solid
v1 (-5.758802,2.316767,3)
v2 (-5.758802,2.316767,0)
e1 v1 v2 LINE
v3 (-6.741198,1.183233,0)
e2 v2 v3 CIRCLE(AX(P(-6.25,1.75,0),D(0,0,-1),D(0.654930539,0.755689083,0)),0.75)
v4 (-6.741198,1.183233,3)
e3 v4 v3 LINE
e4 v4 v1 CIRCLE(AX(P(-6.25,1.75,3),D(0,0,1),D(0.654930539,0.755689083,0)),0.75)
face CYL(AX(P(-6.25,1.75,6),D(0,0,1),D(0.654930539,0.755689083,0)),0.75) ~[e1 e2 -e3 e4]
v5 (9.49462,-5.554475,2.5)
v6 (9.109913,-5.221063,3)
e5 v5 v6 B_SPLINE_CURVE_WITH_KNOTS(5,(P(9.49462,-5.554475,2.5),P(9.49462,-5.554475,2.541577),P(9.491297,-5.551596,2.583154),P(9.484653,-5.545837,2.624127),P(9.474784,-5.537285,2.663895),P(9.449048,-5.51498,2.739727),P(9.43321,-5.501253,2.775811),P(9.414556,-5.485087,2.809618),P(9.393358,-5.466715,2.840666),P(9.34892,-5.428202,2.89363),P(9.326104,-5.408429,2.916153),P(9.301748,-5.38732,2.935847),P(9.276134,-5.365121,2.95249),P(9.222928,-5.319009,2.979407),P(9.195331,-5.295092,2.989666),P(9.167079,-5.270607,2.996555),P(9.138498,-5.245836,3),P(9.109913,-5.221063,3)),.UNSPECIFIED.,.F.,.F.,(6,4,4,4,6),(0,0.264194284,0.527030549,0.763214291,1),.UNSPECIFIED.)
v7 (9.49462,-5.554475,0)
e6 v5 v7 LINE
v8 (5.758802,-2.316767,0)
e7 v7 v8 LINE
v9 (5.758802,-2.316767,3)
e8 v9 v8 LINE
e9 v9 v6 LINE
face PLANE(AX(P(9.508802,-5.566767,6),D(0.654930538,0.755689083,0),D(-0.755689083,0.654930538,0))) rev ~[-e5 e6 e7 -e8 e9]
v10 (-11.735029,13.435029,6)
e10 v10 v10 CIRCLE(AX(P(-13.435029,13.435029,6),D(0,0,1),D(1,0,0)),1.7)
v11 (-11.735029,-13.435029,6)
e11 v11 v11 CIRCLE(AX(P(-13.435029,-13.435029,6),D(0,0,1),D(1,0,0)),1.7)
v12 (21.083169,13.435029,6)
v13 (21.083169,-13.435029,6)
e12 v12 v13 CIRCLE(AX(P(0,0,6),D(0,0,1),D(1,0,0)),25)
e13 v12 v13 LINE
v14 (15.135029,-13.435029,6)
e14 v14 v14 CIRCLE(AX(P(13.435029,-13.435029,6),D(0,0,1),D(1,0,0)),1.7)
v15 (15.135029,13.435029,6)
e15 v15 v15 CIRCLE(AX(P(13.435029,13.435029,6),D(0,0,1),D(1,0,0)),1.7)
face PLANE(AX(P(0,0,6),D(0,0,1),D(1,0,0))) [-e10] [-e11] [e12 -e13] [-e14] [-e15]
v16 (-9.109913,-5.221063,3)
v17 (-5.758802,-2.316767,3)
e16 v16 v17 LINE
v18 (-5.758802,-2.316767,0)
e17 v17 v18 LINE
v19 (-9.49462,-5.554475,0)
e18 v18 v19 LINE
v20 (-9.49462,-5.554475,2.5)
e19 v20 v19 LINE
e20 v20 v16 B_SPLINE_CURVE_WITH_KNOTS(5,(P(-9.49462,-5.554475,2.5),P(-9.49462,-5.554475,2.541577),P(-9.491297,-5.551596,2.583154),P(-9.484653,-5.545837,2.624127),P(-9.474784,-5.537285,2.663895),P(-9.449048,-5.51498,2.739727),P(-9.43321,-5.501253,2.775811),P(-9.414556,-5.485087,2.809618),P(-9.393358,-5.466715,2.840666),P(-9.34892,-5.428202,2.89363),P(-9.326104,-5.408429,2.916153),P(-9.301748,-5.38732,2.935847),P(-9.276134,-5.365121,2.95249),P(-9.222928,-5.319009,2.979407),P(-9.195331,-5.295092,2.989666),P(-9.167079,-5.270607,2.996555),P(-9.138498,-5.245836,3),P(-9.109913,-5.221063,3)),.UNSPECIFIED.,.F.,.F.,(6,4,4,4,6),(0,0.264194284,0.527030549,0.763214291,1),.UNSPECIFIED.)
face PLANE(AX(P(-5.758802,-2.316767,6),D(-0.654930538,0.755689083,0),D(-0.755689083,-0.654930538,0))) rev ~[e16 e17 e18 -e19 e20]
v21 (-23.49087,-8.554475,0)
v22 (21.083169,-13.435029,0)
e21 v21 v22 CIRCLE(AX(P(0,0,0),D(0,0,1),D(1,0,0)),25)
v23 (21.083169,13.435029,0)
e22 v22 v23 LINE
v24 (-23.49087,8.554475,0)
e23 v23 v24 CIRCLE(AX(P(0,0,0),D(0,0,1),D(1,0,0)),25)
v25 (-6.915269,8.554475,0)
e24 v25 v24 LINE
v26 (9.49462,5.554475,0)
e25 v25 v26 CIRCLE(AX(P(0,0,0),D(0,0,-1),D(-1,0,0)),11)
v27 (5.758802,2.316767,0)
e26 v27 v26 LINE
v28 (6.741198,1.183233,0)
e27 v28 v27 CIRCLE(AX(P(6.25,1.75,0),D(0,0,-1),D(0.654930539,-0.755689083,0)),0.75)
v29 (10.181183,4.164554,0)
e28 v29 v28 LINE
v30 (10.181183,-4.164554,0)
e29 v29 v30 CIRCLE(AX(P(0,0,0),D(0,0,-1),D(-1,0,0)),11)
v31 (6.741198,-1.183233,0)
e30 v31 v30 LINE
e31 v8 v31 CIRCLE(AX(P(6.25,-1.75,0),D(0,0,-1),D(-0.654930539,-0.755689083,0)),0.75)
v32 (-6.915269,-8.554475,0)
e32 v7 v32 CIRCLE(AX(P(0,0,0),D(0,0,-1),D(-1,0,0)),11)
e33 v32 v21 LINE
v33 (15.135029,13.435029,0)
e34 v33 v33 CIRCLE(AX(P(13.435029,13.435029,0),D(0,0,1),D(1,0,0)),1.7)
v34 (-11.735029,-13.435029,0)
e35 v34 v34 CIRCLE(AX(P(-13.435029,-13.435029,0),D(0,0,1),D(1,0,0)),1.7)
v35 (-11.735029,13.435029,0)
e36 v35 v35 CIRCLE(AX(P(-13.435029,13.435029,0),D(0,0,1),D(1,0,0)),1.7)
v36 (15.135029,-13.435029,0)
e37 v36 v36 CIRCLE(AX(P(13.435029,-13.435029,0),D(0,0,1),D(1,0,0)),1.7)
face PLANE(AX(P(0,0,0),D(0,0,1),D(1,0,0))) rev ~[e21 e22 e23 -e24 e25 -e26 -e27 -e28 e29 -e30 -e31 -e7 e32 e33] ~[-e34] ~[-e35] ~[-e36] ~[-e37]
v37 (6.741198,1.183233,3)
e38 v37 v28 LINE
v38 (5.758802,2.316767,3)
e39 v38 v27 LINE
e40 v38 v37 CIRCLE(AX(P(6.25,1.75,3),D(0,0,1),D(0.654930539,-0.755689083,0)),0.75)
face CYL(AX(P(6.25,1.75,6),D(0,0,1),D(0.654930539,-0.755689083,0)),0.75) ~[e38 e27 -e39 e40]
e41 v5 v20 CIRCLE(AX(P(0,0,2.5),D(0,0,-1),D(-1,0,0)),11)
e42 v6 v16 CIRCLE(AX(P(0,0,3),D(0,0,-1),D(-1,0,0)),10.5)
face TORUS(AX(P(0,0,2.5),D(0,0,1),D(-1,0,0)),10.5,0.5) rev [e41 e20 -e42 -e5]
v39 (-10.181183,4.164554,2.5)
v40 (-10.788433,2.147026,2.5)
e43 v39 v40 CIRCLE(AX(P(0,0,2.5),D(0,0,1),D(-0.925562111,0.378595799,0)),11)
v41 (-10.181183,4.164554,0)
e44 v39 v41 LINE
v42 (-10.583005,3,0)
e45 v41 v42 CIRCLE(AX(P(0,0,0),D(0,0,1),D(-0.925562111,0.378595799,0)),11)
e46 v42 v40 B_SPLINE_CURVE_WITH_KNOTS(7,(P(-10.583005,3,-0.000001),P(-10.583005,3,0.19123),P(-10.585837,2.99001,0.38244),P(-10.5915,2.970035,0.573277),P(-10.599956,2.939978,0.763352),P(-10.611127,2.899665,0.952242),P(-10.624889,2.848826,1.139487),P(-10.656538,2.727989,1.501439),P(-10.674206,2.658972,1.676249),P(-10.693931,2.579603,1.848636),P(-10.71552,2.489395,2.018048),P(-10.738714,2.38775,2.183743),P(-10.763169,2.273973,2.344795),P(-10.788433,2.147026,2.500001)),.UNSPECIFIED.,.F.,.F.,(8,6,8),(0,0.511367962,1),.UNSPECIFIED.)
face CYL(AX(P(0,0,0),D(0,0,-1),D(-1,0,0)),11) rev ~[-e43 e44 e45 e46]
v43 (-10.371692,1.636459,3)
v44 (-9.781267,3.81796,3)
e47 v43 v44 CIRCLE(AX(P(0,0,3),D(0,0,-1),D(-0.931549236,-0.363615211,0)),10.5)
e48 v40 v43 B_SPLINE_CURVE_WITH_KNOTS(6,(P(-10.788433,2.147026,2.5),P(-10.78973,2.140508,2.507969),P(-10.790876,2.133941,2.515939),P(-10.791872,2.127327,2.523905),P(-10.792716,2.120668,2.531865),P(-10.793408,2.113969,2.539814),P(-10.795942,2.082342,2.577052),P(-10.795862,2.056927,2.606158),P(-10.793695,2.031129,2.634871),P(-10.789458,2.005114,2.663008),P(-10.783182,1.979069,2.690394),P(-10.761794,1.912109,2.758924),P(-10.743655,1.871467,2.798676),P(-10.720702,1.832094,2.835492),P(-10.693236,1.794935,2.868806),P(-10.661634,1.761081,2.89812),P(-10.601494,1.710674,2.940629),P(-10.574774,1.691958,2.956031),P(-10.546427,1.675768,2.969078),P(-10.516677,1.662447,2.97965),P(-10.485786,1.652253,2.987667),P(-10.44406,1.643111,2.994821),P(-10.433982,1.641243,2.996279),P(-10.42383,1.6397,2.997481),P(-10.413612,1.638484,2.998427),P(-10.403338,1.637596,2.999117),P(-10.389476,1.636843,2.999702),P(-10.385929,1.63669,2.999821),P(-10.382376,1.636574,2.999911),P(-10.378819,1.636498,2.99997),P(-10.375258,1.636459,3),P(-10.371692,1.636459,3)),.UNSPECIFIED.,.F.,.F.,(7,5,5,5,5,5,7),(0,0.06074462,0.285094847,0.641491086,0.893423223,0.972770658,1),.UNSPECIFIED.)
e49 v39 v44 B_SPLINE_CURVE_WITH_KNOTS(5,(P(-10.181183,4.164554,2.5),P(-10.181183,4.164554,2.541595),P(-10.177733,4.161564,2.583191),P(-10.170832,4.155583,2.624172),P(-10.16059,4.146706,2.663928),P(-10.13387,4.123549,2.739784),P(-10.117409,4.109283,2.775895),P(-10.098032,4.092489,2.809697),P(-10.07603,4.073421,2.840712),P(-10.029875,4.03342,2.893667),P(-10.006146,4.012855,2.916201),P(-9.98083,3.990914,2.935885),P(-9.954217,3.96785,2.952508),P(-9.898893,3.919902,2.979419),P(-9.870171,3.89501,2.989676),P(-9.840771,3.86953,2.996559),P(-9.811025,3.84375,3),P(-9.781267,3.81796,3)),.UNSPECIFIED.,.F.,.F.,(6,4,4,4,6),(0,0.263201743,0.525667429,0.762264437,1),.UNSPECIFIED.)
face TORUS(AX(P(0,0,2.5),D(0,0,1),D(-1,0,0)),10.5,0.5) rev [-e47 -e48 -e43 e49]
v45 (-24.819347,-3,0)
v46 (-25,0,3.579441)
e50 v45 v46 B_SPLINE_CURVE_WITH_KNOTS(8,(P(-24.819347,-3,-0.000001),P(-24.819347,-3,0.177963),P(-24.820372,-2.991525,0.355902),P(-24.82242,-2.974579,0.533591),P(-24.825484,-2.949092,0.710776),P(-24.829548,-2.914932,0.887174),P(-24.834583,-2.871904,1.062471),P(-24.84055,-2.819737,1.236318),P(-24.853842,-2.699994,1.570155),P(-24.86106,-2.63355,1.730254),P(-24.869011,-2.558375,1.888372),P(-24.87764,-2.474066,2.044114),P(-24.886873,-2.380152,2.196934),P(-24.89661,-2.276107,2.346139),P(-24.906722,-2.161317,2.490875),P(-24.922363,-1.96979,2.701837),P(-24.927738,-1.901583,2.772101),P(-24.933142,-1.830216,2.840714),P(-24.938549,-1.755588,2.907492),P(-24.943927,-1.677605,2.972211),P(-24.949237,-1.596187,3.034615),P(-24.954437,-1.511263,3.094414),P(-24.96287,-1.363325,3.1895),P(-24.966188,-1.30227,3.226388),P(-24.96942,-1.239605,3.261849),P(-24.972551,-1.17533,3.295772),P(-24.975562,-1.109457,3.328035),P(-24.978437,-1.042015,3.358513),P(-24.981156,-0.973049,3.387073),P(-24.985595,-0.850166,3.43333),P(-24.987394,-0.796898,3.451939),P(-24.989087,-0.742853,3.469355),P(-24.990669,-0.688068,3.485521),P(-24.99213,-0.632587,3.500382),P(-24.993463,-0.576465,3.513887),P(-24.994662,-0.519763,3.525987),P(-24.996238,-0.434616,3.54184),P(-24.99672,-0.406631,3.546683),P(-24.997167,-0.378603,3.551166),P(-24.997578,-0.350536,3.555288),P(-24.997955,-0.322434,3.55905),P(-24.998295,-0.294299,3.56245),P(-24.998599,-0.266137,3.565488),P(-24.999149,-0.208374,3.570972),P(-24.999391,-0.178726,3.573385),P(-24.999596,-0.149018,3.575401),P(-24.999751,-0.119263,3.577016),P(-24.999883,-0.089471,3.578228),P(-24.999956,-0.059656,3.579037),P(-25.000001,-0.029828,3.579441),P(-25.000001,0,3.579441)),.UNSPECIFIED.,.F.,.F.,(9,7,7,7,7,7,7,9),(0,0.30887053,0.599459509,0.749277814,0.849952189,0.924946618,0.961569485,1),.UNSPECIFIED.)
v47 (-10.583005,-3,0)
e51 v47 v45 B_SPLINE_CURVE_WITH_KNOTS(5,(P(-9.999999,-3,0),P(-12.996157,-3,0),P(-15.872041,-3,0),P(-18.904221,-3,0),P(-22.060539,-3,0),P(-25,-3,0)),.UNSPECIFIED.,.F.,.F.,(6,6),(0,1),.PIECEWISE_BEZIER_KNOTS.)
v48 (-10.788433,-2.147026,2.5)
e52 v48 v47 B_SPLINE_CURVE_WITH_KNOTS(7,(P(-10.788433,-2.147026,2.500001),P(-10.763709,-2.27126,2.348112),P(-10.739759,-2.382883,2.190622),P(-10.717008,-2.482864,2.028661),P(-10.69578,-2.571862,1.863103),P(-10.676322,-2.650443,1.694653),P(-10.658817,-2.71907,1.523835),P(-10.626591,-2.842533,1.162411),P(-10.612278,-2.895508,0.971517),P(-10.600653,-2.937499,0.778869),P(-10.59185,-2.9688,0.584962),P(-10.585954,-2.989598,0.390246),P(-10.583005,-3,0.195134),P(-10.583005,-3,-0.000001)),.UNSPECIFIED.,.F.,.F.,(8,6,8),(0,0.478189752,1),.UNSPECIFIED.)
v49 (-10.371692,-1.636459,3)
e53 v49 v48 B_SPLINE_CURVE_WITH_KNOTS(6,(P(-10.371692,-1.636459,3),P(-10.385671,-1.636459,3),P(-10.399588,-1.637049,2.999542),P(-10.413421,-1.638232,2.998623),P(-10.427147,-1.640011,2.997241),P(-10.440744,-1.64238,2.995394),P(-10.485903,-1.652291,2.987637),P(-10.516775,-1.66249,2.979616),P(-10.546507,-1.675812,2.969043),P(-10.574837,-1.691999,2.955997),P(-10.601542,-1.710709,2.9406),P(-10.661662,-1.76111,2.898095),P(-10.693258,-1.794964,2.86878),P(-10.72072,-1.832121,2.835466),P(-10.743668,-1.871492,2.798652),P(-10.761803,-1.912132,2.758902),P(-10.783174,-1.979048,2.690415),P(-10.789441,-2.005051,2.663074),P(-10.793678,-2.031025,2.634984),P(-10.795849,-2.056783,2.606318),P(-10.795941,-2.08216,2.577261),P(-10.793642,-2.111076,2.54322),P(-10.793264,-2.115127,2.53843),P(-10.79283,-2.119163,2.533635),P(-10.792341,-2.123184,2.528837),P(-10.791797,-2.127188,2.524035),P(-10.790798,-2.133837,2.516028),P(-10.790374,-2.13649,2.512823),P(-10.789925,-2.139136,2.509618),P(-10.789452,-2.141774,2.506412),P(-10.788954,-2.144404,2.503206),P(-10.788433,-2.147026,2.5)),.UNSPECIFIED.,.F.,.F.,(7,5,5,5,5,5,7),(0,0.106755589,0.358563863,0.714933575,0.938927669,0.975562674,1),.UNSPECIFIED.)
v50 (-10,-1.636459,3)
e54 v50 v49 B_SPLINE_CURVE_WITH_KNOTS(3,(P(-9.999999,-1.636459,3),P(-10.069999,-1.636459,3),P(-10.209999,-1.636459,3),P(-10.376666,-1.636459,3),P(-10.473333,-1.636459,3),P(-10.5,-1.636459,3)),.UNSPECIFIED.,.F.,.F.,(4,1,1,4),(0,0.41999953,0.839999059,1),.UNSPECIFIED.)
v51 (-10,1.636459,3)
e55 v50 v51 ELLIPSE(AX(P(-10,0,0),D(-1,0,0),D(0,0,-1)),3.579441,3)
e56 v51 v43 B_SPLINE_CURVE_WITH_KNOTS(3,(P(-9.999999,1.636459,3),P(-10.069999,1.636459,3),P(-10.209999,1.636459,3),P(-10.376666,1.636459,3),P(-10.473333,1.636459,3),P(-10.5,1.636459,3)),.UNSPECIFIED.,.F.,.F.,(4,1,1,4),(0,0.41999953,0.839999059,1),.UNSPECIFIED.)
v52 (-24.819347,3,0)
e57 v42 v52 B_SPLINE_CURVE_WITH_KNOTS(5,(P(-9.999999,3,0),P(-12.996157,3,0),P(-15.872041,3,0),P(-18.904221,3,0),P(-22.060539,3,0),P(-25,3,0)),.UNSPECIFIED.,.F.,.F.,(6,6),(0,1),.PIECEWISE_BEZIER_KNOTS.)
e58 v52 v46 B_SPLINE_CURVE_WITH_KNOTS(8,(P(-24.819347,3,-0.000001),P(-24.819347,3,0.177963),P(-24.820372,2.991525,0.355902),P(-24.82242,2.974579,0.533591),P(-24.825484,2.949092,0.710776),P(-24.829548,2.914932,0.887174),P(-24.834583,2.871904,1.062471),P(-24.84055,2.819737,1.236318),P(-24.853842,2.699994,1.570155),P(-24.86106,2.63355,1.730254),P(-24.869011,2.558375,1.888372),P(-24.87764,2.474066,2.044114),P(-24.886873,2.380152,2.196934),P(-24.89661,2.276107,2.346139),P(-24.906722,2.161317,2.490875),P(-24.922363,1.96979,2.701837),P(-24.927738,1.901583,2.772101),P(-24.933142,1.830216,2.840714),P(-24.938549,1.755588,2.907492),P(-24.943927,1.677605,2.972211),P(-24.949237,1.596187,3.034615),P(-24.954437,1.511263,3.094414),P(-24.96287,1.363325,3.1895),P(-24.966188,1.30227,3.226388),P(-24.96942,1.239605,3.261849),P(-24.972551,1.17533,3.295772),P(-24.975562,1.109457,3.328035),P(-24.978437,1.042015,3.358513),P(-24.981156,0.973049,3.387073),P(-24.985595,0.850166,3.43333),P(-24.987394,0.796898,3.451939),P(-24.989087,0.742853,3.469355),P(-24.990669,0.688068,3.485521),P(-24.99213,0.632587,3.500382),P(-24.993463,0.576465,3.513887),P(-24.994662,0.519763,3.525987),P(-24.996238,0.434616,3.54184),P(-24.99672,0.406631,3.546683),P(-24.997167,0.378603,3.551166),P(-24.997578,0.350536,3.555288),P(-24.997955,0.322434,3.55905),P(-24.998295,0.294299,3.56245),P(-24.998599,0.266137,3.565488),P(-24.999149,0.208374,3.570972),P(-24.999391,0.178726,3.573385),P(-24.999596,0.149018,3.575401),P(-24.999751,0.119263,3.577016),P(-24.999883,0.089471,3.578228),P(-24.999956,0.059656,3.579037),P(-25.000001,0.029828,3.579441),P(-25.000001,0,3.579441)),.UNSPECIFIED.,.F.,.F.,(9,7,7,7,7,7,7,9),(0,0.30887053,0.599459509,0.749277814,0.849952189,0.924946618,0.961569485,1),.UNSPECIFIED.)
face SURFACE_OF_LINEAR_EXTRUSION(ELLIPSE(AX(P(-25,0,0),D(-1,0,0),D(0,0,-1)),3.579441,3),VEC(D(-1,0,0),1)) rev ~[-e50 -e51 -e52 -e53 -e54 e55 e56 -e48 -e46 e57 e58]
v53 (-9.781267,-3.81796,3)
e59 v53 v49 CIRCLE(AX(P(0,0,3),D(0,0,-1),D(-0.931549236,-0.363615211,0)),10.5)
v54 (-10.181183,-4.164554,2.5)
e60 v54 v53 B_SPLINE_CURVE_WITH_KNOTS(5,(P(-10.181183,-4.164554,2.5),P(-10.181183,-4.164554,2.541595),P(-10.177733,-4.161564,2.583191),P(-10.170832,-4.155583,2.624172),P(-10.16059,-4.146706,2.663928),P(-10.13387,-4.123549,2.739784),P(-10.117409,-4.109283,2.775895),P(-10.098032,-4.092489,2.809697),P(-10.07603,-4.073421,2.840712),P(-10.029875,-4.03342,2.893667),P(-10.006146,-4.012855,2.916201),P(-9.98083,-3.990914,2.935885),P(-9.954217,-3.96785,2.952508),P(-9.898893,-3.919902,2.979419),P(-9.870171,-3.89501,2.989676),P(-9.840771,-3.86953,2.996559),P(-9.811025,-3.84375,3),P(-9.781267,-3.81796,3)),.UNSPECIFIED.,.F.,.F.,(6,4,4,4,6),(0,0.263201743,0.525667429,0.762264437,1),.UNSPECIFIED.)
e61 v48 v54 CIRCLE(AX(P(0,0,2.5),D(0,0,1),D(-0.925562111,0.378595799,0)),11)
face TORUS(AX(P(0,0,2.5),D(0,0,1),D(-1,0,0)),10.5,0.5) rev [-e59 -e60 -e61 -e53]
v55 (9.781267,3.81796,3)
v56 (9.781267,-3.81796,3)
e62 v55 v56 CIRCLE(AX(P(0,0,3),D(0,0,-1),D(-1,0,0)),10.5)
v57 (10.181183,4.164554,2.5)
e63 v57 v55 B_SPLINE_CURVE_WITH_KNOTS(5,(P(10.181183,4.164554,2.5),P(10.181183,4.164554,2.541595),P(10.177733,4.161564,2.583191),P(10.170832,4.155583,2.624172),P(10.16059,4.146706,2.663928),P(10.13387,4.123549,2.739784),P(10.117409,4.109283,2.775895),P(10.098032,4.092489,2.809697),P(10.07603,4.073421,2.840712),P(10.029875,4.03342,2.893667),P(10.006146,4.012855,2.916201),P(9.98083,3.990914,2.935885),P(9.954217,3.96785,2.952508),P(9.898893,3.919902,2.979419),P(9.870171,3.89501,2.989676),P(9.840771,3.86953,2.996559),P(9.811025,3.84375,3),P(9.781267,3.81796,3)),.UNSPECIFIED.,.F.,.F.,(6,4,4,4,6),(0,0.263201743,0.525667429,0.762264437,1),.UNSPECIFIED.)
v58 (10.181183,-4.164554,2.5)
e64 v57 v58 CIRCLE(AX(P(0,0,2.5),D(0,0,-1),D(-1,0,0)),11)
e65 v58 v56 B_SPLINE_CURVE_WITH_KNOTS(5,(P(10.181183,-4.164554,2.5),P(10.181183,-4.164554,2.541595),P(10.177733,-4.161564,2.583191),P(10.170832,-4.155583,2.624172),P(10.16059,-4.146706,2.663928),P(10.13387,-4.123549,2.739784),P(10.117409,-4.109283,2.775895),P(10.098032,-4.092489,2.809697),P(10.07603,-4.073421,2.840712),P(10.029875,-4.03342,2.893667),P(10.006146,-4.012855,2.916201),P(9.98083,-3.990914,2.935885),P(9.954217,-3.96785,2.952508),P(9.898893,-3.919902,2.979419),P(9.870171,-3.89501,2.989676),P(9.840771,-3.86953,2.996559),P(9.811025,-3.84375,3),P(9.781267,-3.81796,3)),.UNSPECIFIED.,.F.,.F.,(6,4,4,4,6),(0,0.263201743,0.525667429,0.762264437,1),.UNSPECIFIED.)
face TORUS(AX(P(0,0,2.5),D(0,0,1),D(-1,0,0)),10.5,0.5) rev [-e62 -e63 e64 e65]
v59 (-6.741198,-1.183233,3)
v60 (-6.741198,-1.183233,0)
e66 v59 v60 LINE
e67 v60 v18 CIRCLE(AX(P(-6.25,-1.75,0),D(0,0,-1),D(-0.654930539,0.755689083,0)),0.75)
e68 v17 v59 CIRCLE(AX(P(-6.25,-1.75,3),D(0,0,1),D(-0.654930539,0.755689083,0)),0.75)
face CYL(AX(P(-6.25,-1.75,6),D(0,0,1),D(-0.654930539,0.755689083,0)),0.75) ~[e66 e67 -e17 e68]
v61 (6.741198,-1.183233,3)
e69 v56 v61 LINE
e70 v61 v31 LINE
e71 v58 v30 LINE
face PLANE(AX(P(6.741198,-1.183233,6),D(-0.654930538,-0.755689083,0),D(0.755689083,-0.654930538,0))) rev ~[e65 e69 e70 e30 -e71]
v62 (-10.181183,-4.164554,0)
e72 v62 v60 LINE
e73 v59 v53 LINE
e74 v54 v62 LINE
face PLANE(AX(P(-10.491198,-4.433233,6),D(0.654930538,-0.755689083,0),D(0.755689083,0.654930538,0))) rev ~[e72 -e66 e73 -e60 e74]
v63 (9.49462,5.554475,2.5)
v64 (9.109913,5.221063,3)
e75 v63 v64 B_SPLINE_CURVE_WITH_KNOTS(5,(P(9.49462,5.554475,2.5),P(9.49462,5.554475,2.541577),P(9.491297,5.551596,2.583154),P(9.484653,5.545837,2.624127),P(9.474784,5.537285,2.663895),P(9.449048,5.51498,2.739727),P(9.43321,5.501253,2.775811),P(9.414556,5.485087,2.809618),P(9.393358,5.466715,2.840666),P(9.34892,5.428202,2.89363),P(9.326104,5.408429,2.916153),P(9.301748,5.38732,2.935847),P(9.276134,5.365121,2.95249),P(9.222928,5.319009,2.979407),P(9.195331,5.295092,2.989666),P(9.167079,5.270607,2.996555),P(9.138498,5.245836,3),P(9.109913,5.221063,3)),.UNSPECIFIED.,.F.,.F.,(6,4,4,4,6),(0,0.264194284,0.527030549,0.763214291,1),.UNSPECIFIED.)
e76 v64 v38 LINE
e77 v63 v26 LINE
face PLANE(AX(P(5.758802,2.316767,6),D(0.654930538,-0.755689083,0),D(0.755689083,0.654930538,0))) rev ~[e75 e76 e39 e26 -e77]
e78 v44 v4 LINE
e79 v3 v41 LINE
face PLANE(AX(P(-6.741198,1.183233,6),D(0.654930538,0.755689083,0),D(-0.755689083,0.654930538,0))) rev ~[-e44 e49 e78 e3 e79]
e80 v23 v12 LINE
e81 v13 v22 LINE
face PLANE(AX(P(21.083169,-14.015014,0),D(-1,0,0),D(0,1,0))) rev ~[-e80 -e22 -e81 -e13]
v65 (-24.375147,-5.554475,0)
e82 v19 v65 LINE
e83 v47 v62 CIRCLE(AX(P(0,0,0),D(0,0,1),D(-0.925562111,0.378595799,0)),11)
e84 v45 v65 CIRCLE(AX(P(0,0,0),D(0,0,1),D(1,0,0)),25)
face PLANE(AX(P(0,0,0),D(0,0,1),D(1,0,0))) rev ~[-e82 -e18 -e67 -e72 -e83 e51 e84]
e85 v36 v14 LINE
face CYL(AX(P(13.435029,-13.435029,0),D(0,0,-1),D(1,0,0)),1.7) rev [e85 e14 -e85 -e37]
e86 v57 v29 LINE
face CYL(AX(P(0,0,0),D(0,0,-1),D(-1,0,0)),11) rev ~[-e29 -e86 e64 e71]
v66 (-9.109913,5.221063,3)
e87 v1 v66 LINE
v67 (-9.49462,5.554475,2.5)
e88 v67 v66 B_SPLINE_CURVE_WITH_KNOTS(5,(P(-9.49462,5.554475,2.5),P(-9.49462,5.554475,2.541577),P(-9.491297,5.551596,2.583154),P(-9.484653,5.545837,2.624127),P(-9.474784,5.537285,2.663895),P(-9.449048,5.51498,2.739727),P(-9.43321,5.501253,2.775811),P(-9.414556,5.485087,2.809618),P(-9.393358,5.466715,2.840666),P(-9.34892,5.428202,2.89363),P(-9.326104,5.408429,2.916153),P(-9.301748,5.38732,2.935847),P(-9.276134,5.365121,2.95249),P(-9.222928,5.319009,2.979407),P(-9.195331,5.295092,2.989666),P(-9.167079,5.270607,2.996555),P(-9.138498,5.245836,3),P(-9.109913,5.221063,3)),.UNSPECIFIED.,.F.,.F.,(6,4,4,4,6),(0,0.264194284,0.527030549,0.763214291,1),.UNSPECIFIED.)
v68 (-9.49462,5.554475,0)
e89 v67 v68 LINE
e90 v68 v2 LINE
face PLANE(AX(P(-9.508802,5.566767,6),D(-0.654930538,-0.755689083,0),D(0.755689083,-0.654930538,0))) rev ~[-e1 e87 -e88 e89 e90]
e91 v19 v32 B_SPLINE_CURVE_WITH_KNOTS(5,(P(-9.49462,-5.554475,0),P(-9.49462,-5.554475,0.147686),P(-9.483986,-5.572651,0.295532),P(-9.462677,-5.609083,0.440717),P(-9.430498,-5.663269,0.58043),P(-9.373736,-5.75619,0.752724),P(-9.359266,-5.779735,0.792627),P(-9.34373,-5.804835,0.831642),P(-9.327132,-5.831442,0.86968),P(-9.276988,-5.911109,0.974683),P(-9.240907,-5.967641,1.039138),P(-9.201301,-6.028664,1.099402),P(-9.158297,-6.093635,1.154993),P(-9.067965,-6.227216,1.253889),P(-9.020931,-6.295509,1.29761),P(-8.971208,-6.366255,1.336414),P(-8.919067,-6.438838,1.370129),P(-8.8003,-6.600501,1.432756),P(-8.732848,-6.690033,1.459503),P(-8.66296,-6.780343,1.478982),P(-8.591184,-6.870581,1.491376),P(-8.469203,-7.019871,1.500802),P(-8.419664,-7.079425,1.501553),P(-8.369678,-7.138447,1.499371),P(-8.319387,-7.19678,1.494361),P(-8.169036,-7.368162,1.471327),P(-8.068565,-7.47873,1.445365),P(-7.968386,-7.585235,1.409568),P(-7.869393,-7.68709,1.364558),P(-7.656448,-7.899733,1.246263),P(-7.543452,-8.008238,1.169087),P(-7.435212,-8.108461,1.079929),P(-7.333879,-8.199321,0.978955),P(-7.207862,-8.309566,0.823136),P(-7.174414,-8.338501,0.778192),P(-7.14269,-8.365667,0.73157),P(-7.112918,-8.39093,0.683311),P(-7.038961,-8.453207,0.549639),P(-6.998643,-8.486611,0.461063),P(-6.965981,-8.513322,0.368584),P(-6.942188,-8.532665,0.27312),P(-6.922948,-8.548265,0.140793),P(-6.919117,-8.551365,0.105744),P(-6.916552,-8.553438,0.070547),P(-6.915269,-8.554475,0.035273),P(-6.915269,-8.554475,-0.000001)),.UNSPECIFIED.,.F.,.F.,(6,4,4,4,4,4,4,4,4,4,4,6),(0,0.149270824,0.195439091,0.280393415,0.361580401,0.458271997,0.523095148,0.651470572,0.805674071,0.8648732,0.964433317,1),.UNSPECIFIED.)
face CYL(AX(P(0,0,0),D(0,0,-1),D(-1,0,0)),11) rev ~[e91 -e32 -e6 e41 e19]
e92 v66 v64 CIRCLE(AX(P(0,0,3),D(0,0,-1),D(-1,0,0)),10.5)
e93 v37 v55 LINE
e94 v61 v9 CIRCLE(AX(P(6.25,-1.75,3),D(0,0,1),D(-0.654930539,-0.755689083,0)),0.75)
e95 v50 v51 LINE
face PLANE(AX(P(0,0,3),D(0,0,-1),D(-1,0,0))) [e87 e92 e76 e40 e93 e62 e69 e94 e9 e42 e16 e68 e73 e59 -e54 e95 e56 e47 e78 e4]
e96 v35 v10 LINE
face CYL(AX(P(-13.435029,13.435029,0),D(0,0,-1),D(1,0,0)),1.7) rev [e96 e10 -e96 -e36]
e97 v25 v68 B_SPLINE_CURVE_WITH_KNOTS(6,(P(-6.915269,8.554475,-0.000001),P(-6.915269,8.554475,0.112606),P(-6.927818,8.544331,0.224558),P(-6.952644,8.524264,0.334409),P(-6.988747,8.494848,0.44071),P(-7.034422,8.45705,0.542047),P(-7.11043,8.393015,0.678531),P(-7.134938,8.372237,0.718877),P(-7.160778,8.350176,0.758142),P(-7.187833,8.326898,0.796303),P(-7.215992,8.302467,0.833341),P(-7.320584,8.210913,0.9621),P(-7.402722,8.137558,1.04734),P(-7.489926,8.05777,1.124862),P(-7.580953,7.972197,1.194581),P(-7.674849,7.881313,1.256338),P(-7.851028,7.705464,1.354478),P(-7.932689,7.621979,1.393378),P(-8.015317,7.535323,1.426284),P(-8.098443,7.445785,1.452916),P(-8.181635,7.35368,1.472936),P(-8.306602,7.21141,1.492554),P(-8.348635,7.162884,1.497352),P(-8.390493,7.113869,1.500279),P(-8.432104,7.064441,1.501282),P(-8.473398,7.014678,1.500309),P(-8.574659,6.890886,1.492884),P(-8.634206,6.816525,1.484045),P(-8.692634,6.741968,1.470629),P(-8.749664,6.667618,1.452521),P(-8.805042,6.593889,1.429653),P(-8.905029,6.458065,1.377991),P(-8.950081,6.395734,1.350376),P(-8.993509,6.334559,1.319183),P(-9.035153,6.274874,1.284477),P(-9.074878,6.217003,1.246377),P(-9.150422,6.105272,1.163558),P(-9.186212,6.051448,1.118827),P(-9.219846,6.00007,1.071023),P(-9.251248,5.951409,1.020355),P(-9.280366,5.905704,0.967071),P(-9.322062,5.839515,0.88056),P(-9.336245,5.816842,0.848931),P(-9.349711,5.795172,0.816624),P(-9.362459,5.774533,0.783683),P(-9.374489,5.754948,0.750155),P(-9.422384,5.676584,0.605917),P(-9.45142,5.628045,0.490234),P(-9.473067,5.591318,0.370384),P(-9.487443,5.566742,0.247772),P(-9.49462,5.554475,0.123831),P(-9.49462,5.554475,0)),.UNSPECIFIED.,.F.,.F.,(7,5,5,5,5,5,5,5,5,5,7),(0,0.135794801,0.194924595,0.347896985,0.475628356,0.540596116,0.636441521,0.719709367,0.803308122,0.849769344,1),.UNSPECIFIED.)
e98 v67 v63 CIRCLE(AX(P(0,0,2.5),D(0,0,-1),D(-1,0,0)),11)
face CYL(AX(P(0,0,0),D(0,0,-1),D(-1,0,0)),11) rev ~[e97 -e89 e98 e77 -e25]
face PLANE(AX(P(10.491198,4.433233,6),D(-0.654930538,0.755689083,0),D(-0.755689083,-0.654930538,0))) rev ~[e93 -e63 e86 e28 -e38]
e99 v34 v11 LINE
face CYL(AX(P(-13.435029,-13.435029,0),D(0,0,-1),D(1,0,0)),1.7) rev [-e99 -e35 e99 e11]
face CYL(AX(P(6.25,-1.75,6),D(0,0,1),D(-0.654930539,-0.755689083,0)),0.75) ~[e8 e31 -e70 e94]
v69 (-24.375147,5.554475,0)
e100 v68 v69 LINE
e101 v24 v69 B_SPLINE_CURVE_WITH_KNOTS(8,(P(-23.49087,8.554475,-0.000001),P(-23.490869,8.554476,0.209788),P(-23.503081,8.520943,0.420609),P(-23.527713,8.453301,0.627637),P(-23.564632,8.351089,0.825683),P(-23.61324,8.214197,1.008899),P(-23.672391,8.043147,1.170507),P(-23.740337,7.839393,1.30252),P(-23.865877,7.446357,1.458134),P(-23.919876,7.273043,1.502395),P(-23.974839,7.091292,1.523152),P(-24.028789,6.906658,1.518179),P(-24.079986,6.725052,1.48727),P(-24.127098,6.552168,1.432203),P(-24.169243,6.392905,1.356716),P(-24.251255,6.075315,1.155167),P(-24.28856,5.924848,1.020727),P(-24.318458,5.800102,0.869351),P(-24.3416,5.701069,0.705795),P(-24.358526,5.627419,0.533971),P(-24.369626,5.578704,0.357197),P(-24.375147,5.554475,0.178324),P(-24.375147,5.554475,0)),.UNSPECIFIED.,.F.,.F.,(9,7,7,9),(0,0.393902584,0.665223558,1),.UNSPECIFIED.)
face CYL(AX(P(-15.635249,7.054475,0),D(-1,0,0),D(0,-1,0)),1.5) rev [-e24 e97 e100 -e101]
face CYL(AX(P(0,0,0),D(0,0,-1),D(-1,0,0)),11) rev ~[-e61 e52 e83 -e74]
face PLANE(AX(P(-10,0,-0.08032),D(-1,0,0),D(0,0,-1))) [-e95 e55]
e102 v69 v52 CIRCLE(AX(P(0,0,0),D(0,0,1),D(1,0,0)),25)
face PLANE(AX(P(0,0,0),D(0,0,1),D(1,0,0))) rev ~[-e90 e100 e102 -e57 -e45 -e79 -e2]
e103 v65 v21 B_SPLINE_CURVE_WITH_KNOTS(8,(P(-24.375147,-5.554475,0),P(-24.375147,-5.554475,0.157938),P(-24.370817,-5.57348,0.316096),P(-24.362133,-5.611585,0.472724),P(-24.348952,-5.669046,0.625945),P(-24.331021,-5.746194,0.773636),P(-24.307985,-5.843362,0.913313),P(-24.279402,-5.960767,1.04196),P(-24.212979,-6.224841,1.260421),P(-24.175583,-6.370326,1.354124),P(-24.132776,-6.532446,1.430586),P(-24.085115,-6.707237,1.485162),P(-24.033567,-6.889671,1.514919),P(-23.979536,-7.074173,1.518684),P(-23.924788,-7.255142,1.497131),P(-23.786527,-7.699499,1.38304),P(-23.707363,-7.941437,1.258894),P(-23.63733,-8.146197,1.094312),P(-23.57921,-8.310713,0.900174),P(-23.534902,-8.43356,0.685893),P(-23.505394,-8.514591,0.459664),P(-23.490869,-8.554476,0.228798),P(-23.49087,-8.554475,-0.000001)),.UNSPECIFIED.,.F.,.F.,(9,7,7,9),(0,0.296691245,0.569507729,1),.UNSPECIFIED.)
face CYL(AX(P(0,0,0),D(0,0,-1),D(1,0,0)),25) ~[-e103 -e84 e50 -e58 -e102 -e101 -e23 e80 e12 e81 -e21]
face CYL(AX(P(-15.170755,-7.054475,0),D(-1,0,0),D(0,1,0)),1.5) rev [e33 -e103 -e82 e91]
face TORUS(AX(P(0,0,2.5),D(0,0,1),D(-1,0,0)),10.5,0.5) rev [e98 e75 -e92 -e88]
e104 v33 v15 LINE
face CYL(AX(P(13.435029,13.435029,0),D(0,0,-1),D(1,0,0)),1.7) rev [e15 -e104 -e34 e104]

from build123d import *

# Parameters (mm, degrees)
ESQUISSE1_R             = 25
ESQUISSE1_R_2           = 1.7
BOSS_EXTRU_1_DEPTH      = 6
ESQUISSE6_R             = 11
ENL_V_MAT_EXTRU_2_DEPTH = 3
CONG_2_R                = 0.5
BOSS_EXTRU_6_DEPTH      = 6
ESQUISSE12_RX           = 3.57944127
ESQUISSE12_RY           = 3
ENL_V_MAT_EXTRU_3_DEPTH = 15
ESQUISSE13_W            = 18.660647855
ESQUISSE13_H            = 1.5
ESQUISSE14_W            = 18.40878356
ESQUISSE14_H            = 1.5
ESQUISSE15_W            = 7.963879273
ESQUISSE15_H            = 27.450042448
ENL_V_MAT_EXTRU_4_DEPTH = 36.860842729


with BuildPart() as part:
    # Esquisse1 → Boss.-Extru.1 (new body)
    with BuildSketch(Plane.XY):
        Circle(ESQUISSE1_R)
        with Locations((-13.435028843, 13.435028843)):
            Circle(ESQUISSE1_R_2, mode=Mode.SUBTRACT)
        with Locations((13.435028843, 13.435028843)):
            Circle(ESQUISSE1_R_2, mode=Mode.SUBTRACT)
        with Locations((13.435028843, -13.435028843)):
            Circle(ESQUISSE1_R_2, mode=Mode.SUBTRACT)
        with Locations((-13.435028843, -13.435028843)):
            Circle(ESQUISSE1_R_2, mode=Mode.SUBTRACT)
    extrude(amount=BOSS_EXTRU_1_DEPTH)

    # Esquisse6 → Enlèv. mat.-Extru.2 (cut)
    with BuildSketch(Plane(origin=(0, 0, 0), x_dir=(-1, 0, 0), z_dir=(0, 0, -1))):
        Circle(ESQUISSE6_R)
    extrude(amount=-ENL_V_MAT_EXTRU_2_DEPTH, mode=Mode.SUBTRACT)

    # Congé2
    cong_2_edges = [part.edges().sort_by_distance(p)[0] for p in [
        (11, 0, 3),
    ]]
    fillet(cong_2_edges, radius=CONG_2_R)

    # Esquisse10 → Boss.-Extru.6 (add)
    with BuildSketch(Plane.XY.offset(6)):
        with BuildLine():
            Line((-5.758802096, -2.316766812), (-9.508802096, -5.566766812))
            ThreePointArc((-9.508802096, -5.566766812), (-10.566766812, -5.491197904), (-10.491197904, -4.433233188))
            Line((-10.491197904, -4.433233188), (-6.741197904, -1.183233188))
            ThreePointArc((-6.741197904, -1.183233188), (-5.683233188, -1.258802096), (-5.758802096, -2.316766812))
        make_face()
        with BuildLine():
            Line((-6.741197904, 1.183233188), (-10.491197904, 4.433233188))
            ThreePointArc((-10.491197904, 4.433233188), (-10.566766812, 5.491197904), (-9.508802096, 5.566766812))
            Line((-9.508802096, 5.566766812), (-5.758802096, 2.316766812))
            ThreePointArc((-5.758802096, 2.316766812), (-5.683233188, 1.258802096), (-6.741197904, 1.183233188))
        make_face()
        with BuildLine():
            Line((9.508802096, -5.566766812), (5.758802096, -2.316766812))
            ThreePointArc((5.758802096, -2.316766812), (5.683233188, -1.258802096), (6.741197904, -1.183233188))
            Line((6.741197904, -1.183233188), (10.491197904, -4.433233188))
            ThreePointArc((10.491197904, -4.433233188), (10.566766812, -5.491197904), (9.508802096, -5.566766812))
        make_face()
        with BuildLine():
            Line((10.491197904, 4.433233188), (6.741197904, 1.183233188))
            ThreePointArc((6.741197904, 1.183233188), (5.683233188, 1.258802096), (5.758802096, 2.316766812))
            Line((5.758802096, 2.316766812), (9.508802096, 5.566766812))
            ThreePointArc((9.508802096, 5.566766812), (10.566766812, 5.491197904), (10.491197904, 4.433233188))
        make_face()
    extrude(amount=-BOSS_EXTRU_6_DEPTH)

    # Esquisse12 → Enlèv. mat.-Extru.3 (cut)
    with BuildSketch(Plane.ZY.offset(25)):
        with Locations(Location((0, 0), (0, 0, 180))):
            Ellipse(ESQUISSE12_RX, ESQUISSE12_RY)
    extrude(amount=-ENL_V_MAT_EXTRU_3_DEPTH, mode=Mode.SUBTRACT)

    # Esquisse13 → Enlèvement de matière-Révolution1 (revolve, cut)
    with BuildSketch(Plane(origin=(0, 0, 0), x_dir=(-1, 0, 0), z_dir=(0, 0, -1))):
        with Locations((15.635249349, 6.304475395)):
            Rectangle(ESQUISSE13_W, ESQUISSE13_H)
    revolve(axis=Axis((-24.965573276, 7.054475395, 0), (1, 0, 0)), mode=Mode.SUBTRACT)

    # Esquisse14 → Enlèvement de matière-Révolution2 (revolve, cut)
    with BuildSketch(Plane(origin=(0, 0, 0), x_dir=(-1, 0, 0), z_dir=(0, 0, -1))):
        with Locations((15.170755462, -6.304475395)):
            Rectangle(ESQUISSE14_W, ESQUISSE14_H)
    revolve(axis=Axis((-24.375147242, -7.054475395, 0), (1, 0, 0)), mode=Mode.SUBTRACT)

    # Esquisse15 → Enlèv. mat.-Extru.4 (cut, through all)
    with BuildSketch(Plane(origin=(0, 0, 0), x_dir=(-1, 0, 0), z_dir=(0, 0, -1))):
        with Locations((-25.065108278, -0.289992381)):
            Rectangle(ESQUISSE15_W, ESQUISSE15_H)
    extrude(amount=-ENL_V_MAT_EXTRU_4_DEPTH, mode=Mode.SUBTRACT)


solid = part.part
